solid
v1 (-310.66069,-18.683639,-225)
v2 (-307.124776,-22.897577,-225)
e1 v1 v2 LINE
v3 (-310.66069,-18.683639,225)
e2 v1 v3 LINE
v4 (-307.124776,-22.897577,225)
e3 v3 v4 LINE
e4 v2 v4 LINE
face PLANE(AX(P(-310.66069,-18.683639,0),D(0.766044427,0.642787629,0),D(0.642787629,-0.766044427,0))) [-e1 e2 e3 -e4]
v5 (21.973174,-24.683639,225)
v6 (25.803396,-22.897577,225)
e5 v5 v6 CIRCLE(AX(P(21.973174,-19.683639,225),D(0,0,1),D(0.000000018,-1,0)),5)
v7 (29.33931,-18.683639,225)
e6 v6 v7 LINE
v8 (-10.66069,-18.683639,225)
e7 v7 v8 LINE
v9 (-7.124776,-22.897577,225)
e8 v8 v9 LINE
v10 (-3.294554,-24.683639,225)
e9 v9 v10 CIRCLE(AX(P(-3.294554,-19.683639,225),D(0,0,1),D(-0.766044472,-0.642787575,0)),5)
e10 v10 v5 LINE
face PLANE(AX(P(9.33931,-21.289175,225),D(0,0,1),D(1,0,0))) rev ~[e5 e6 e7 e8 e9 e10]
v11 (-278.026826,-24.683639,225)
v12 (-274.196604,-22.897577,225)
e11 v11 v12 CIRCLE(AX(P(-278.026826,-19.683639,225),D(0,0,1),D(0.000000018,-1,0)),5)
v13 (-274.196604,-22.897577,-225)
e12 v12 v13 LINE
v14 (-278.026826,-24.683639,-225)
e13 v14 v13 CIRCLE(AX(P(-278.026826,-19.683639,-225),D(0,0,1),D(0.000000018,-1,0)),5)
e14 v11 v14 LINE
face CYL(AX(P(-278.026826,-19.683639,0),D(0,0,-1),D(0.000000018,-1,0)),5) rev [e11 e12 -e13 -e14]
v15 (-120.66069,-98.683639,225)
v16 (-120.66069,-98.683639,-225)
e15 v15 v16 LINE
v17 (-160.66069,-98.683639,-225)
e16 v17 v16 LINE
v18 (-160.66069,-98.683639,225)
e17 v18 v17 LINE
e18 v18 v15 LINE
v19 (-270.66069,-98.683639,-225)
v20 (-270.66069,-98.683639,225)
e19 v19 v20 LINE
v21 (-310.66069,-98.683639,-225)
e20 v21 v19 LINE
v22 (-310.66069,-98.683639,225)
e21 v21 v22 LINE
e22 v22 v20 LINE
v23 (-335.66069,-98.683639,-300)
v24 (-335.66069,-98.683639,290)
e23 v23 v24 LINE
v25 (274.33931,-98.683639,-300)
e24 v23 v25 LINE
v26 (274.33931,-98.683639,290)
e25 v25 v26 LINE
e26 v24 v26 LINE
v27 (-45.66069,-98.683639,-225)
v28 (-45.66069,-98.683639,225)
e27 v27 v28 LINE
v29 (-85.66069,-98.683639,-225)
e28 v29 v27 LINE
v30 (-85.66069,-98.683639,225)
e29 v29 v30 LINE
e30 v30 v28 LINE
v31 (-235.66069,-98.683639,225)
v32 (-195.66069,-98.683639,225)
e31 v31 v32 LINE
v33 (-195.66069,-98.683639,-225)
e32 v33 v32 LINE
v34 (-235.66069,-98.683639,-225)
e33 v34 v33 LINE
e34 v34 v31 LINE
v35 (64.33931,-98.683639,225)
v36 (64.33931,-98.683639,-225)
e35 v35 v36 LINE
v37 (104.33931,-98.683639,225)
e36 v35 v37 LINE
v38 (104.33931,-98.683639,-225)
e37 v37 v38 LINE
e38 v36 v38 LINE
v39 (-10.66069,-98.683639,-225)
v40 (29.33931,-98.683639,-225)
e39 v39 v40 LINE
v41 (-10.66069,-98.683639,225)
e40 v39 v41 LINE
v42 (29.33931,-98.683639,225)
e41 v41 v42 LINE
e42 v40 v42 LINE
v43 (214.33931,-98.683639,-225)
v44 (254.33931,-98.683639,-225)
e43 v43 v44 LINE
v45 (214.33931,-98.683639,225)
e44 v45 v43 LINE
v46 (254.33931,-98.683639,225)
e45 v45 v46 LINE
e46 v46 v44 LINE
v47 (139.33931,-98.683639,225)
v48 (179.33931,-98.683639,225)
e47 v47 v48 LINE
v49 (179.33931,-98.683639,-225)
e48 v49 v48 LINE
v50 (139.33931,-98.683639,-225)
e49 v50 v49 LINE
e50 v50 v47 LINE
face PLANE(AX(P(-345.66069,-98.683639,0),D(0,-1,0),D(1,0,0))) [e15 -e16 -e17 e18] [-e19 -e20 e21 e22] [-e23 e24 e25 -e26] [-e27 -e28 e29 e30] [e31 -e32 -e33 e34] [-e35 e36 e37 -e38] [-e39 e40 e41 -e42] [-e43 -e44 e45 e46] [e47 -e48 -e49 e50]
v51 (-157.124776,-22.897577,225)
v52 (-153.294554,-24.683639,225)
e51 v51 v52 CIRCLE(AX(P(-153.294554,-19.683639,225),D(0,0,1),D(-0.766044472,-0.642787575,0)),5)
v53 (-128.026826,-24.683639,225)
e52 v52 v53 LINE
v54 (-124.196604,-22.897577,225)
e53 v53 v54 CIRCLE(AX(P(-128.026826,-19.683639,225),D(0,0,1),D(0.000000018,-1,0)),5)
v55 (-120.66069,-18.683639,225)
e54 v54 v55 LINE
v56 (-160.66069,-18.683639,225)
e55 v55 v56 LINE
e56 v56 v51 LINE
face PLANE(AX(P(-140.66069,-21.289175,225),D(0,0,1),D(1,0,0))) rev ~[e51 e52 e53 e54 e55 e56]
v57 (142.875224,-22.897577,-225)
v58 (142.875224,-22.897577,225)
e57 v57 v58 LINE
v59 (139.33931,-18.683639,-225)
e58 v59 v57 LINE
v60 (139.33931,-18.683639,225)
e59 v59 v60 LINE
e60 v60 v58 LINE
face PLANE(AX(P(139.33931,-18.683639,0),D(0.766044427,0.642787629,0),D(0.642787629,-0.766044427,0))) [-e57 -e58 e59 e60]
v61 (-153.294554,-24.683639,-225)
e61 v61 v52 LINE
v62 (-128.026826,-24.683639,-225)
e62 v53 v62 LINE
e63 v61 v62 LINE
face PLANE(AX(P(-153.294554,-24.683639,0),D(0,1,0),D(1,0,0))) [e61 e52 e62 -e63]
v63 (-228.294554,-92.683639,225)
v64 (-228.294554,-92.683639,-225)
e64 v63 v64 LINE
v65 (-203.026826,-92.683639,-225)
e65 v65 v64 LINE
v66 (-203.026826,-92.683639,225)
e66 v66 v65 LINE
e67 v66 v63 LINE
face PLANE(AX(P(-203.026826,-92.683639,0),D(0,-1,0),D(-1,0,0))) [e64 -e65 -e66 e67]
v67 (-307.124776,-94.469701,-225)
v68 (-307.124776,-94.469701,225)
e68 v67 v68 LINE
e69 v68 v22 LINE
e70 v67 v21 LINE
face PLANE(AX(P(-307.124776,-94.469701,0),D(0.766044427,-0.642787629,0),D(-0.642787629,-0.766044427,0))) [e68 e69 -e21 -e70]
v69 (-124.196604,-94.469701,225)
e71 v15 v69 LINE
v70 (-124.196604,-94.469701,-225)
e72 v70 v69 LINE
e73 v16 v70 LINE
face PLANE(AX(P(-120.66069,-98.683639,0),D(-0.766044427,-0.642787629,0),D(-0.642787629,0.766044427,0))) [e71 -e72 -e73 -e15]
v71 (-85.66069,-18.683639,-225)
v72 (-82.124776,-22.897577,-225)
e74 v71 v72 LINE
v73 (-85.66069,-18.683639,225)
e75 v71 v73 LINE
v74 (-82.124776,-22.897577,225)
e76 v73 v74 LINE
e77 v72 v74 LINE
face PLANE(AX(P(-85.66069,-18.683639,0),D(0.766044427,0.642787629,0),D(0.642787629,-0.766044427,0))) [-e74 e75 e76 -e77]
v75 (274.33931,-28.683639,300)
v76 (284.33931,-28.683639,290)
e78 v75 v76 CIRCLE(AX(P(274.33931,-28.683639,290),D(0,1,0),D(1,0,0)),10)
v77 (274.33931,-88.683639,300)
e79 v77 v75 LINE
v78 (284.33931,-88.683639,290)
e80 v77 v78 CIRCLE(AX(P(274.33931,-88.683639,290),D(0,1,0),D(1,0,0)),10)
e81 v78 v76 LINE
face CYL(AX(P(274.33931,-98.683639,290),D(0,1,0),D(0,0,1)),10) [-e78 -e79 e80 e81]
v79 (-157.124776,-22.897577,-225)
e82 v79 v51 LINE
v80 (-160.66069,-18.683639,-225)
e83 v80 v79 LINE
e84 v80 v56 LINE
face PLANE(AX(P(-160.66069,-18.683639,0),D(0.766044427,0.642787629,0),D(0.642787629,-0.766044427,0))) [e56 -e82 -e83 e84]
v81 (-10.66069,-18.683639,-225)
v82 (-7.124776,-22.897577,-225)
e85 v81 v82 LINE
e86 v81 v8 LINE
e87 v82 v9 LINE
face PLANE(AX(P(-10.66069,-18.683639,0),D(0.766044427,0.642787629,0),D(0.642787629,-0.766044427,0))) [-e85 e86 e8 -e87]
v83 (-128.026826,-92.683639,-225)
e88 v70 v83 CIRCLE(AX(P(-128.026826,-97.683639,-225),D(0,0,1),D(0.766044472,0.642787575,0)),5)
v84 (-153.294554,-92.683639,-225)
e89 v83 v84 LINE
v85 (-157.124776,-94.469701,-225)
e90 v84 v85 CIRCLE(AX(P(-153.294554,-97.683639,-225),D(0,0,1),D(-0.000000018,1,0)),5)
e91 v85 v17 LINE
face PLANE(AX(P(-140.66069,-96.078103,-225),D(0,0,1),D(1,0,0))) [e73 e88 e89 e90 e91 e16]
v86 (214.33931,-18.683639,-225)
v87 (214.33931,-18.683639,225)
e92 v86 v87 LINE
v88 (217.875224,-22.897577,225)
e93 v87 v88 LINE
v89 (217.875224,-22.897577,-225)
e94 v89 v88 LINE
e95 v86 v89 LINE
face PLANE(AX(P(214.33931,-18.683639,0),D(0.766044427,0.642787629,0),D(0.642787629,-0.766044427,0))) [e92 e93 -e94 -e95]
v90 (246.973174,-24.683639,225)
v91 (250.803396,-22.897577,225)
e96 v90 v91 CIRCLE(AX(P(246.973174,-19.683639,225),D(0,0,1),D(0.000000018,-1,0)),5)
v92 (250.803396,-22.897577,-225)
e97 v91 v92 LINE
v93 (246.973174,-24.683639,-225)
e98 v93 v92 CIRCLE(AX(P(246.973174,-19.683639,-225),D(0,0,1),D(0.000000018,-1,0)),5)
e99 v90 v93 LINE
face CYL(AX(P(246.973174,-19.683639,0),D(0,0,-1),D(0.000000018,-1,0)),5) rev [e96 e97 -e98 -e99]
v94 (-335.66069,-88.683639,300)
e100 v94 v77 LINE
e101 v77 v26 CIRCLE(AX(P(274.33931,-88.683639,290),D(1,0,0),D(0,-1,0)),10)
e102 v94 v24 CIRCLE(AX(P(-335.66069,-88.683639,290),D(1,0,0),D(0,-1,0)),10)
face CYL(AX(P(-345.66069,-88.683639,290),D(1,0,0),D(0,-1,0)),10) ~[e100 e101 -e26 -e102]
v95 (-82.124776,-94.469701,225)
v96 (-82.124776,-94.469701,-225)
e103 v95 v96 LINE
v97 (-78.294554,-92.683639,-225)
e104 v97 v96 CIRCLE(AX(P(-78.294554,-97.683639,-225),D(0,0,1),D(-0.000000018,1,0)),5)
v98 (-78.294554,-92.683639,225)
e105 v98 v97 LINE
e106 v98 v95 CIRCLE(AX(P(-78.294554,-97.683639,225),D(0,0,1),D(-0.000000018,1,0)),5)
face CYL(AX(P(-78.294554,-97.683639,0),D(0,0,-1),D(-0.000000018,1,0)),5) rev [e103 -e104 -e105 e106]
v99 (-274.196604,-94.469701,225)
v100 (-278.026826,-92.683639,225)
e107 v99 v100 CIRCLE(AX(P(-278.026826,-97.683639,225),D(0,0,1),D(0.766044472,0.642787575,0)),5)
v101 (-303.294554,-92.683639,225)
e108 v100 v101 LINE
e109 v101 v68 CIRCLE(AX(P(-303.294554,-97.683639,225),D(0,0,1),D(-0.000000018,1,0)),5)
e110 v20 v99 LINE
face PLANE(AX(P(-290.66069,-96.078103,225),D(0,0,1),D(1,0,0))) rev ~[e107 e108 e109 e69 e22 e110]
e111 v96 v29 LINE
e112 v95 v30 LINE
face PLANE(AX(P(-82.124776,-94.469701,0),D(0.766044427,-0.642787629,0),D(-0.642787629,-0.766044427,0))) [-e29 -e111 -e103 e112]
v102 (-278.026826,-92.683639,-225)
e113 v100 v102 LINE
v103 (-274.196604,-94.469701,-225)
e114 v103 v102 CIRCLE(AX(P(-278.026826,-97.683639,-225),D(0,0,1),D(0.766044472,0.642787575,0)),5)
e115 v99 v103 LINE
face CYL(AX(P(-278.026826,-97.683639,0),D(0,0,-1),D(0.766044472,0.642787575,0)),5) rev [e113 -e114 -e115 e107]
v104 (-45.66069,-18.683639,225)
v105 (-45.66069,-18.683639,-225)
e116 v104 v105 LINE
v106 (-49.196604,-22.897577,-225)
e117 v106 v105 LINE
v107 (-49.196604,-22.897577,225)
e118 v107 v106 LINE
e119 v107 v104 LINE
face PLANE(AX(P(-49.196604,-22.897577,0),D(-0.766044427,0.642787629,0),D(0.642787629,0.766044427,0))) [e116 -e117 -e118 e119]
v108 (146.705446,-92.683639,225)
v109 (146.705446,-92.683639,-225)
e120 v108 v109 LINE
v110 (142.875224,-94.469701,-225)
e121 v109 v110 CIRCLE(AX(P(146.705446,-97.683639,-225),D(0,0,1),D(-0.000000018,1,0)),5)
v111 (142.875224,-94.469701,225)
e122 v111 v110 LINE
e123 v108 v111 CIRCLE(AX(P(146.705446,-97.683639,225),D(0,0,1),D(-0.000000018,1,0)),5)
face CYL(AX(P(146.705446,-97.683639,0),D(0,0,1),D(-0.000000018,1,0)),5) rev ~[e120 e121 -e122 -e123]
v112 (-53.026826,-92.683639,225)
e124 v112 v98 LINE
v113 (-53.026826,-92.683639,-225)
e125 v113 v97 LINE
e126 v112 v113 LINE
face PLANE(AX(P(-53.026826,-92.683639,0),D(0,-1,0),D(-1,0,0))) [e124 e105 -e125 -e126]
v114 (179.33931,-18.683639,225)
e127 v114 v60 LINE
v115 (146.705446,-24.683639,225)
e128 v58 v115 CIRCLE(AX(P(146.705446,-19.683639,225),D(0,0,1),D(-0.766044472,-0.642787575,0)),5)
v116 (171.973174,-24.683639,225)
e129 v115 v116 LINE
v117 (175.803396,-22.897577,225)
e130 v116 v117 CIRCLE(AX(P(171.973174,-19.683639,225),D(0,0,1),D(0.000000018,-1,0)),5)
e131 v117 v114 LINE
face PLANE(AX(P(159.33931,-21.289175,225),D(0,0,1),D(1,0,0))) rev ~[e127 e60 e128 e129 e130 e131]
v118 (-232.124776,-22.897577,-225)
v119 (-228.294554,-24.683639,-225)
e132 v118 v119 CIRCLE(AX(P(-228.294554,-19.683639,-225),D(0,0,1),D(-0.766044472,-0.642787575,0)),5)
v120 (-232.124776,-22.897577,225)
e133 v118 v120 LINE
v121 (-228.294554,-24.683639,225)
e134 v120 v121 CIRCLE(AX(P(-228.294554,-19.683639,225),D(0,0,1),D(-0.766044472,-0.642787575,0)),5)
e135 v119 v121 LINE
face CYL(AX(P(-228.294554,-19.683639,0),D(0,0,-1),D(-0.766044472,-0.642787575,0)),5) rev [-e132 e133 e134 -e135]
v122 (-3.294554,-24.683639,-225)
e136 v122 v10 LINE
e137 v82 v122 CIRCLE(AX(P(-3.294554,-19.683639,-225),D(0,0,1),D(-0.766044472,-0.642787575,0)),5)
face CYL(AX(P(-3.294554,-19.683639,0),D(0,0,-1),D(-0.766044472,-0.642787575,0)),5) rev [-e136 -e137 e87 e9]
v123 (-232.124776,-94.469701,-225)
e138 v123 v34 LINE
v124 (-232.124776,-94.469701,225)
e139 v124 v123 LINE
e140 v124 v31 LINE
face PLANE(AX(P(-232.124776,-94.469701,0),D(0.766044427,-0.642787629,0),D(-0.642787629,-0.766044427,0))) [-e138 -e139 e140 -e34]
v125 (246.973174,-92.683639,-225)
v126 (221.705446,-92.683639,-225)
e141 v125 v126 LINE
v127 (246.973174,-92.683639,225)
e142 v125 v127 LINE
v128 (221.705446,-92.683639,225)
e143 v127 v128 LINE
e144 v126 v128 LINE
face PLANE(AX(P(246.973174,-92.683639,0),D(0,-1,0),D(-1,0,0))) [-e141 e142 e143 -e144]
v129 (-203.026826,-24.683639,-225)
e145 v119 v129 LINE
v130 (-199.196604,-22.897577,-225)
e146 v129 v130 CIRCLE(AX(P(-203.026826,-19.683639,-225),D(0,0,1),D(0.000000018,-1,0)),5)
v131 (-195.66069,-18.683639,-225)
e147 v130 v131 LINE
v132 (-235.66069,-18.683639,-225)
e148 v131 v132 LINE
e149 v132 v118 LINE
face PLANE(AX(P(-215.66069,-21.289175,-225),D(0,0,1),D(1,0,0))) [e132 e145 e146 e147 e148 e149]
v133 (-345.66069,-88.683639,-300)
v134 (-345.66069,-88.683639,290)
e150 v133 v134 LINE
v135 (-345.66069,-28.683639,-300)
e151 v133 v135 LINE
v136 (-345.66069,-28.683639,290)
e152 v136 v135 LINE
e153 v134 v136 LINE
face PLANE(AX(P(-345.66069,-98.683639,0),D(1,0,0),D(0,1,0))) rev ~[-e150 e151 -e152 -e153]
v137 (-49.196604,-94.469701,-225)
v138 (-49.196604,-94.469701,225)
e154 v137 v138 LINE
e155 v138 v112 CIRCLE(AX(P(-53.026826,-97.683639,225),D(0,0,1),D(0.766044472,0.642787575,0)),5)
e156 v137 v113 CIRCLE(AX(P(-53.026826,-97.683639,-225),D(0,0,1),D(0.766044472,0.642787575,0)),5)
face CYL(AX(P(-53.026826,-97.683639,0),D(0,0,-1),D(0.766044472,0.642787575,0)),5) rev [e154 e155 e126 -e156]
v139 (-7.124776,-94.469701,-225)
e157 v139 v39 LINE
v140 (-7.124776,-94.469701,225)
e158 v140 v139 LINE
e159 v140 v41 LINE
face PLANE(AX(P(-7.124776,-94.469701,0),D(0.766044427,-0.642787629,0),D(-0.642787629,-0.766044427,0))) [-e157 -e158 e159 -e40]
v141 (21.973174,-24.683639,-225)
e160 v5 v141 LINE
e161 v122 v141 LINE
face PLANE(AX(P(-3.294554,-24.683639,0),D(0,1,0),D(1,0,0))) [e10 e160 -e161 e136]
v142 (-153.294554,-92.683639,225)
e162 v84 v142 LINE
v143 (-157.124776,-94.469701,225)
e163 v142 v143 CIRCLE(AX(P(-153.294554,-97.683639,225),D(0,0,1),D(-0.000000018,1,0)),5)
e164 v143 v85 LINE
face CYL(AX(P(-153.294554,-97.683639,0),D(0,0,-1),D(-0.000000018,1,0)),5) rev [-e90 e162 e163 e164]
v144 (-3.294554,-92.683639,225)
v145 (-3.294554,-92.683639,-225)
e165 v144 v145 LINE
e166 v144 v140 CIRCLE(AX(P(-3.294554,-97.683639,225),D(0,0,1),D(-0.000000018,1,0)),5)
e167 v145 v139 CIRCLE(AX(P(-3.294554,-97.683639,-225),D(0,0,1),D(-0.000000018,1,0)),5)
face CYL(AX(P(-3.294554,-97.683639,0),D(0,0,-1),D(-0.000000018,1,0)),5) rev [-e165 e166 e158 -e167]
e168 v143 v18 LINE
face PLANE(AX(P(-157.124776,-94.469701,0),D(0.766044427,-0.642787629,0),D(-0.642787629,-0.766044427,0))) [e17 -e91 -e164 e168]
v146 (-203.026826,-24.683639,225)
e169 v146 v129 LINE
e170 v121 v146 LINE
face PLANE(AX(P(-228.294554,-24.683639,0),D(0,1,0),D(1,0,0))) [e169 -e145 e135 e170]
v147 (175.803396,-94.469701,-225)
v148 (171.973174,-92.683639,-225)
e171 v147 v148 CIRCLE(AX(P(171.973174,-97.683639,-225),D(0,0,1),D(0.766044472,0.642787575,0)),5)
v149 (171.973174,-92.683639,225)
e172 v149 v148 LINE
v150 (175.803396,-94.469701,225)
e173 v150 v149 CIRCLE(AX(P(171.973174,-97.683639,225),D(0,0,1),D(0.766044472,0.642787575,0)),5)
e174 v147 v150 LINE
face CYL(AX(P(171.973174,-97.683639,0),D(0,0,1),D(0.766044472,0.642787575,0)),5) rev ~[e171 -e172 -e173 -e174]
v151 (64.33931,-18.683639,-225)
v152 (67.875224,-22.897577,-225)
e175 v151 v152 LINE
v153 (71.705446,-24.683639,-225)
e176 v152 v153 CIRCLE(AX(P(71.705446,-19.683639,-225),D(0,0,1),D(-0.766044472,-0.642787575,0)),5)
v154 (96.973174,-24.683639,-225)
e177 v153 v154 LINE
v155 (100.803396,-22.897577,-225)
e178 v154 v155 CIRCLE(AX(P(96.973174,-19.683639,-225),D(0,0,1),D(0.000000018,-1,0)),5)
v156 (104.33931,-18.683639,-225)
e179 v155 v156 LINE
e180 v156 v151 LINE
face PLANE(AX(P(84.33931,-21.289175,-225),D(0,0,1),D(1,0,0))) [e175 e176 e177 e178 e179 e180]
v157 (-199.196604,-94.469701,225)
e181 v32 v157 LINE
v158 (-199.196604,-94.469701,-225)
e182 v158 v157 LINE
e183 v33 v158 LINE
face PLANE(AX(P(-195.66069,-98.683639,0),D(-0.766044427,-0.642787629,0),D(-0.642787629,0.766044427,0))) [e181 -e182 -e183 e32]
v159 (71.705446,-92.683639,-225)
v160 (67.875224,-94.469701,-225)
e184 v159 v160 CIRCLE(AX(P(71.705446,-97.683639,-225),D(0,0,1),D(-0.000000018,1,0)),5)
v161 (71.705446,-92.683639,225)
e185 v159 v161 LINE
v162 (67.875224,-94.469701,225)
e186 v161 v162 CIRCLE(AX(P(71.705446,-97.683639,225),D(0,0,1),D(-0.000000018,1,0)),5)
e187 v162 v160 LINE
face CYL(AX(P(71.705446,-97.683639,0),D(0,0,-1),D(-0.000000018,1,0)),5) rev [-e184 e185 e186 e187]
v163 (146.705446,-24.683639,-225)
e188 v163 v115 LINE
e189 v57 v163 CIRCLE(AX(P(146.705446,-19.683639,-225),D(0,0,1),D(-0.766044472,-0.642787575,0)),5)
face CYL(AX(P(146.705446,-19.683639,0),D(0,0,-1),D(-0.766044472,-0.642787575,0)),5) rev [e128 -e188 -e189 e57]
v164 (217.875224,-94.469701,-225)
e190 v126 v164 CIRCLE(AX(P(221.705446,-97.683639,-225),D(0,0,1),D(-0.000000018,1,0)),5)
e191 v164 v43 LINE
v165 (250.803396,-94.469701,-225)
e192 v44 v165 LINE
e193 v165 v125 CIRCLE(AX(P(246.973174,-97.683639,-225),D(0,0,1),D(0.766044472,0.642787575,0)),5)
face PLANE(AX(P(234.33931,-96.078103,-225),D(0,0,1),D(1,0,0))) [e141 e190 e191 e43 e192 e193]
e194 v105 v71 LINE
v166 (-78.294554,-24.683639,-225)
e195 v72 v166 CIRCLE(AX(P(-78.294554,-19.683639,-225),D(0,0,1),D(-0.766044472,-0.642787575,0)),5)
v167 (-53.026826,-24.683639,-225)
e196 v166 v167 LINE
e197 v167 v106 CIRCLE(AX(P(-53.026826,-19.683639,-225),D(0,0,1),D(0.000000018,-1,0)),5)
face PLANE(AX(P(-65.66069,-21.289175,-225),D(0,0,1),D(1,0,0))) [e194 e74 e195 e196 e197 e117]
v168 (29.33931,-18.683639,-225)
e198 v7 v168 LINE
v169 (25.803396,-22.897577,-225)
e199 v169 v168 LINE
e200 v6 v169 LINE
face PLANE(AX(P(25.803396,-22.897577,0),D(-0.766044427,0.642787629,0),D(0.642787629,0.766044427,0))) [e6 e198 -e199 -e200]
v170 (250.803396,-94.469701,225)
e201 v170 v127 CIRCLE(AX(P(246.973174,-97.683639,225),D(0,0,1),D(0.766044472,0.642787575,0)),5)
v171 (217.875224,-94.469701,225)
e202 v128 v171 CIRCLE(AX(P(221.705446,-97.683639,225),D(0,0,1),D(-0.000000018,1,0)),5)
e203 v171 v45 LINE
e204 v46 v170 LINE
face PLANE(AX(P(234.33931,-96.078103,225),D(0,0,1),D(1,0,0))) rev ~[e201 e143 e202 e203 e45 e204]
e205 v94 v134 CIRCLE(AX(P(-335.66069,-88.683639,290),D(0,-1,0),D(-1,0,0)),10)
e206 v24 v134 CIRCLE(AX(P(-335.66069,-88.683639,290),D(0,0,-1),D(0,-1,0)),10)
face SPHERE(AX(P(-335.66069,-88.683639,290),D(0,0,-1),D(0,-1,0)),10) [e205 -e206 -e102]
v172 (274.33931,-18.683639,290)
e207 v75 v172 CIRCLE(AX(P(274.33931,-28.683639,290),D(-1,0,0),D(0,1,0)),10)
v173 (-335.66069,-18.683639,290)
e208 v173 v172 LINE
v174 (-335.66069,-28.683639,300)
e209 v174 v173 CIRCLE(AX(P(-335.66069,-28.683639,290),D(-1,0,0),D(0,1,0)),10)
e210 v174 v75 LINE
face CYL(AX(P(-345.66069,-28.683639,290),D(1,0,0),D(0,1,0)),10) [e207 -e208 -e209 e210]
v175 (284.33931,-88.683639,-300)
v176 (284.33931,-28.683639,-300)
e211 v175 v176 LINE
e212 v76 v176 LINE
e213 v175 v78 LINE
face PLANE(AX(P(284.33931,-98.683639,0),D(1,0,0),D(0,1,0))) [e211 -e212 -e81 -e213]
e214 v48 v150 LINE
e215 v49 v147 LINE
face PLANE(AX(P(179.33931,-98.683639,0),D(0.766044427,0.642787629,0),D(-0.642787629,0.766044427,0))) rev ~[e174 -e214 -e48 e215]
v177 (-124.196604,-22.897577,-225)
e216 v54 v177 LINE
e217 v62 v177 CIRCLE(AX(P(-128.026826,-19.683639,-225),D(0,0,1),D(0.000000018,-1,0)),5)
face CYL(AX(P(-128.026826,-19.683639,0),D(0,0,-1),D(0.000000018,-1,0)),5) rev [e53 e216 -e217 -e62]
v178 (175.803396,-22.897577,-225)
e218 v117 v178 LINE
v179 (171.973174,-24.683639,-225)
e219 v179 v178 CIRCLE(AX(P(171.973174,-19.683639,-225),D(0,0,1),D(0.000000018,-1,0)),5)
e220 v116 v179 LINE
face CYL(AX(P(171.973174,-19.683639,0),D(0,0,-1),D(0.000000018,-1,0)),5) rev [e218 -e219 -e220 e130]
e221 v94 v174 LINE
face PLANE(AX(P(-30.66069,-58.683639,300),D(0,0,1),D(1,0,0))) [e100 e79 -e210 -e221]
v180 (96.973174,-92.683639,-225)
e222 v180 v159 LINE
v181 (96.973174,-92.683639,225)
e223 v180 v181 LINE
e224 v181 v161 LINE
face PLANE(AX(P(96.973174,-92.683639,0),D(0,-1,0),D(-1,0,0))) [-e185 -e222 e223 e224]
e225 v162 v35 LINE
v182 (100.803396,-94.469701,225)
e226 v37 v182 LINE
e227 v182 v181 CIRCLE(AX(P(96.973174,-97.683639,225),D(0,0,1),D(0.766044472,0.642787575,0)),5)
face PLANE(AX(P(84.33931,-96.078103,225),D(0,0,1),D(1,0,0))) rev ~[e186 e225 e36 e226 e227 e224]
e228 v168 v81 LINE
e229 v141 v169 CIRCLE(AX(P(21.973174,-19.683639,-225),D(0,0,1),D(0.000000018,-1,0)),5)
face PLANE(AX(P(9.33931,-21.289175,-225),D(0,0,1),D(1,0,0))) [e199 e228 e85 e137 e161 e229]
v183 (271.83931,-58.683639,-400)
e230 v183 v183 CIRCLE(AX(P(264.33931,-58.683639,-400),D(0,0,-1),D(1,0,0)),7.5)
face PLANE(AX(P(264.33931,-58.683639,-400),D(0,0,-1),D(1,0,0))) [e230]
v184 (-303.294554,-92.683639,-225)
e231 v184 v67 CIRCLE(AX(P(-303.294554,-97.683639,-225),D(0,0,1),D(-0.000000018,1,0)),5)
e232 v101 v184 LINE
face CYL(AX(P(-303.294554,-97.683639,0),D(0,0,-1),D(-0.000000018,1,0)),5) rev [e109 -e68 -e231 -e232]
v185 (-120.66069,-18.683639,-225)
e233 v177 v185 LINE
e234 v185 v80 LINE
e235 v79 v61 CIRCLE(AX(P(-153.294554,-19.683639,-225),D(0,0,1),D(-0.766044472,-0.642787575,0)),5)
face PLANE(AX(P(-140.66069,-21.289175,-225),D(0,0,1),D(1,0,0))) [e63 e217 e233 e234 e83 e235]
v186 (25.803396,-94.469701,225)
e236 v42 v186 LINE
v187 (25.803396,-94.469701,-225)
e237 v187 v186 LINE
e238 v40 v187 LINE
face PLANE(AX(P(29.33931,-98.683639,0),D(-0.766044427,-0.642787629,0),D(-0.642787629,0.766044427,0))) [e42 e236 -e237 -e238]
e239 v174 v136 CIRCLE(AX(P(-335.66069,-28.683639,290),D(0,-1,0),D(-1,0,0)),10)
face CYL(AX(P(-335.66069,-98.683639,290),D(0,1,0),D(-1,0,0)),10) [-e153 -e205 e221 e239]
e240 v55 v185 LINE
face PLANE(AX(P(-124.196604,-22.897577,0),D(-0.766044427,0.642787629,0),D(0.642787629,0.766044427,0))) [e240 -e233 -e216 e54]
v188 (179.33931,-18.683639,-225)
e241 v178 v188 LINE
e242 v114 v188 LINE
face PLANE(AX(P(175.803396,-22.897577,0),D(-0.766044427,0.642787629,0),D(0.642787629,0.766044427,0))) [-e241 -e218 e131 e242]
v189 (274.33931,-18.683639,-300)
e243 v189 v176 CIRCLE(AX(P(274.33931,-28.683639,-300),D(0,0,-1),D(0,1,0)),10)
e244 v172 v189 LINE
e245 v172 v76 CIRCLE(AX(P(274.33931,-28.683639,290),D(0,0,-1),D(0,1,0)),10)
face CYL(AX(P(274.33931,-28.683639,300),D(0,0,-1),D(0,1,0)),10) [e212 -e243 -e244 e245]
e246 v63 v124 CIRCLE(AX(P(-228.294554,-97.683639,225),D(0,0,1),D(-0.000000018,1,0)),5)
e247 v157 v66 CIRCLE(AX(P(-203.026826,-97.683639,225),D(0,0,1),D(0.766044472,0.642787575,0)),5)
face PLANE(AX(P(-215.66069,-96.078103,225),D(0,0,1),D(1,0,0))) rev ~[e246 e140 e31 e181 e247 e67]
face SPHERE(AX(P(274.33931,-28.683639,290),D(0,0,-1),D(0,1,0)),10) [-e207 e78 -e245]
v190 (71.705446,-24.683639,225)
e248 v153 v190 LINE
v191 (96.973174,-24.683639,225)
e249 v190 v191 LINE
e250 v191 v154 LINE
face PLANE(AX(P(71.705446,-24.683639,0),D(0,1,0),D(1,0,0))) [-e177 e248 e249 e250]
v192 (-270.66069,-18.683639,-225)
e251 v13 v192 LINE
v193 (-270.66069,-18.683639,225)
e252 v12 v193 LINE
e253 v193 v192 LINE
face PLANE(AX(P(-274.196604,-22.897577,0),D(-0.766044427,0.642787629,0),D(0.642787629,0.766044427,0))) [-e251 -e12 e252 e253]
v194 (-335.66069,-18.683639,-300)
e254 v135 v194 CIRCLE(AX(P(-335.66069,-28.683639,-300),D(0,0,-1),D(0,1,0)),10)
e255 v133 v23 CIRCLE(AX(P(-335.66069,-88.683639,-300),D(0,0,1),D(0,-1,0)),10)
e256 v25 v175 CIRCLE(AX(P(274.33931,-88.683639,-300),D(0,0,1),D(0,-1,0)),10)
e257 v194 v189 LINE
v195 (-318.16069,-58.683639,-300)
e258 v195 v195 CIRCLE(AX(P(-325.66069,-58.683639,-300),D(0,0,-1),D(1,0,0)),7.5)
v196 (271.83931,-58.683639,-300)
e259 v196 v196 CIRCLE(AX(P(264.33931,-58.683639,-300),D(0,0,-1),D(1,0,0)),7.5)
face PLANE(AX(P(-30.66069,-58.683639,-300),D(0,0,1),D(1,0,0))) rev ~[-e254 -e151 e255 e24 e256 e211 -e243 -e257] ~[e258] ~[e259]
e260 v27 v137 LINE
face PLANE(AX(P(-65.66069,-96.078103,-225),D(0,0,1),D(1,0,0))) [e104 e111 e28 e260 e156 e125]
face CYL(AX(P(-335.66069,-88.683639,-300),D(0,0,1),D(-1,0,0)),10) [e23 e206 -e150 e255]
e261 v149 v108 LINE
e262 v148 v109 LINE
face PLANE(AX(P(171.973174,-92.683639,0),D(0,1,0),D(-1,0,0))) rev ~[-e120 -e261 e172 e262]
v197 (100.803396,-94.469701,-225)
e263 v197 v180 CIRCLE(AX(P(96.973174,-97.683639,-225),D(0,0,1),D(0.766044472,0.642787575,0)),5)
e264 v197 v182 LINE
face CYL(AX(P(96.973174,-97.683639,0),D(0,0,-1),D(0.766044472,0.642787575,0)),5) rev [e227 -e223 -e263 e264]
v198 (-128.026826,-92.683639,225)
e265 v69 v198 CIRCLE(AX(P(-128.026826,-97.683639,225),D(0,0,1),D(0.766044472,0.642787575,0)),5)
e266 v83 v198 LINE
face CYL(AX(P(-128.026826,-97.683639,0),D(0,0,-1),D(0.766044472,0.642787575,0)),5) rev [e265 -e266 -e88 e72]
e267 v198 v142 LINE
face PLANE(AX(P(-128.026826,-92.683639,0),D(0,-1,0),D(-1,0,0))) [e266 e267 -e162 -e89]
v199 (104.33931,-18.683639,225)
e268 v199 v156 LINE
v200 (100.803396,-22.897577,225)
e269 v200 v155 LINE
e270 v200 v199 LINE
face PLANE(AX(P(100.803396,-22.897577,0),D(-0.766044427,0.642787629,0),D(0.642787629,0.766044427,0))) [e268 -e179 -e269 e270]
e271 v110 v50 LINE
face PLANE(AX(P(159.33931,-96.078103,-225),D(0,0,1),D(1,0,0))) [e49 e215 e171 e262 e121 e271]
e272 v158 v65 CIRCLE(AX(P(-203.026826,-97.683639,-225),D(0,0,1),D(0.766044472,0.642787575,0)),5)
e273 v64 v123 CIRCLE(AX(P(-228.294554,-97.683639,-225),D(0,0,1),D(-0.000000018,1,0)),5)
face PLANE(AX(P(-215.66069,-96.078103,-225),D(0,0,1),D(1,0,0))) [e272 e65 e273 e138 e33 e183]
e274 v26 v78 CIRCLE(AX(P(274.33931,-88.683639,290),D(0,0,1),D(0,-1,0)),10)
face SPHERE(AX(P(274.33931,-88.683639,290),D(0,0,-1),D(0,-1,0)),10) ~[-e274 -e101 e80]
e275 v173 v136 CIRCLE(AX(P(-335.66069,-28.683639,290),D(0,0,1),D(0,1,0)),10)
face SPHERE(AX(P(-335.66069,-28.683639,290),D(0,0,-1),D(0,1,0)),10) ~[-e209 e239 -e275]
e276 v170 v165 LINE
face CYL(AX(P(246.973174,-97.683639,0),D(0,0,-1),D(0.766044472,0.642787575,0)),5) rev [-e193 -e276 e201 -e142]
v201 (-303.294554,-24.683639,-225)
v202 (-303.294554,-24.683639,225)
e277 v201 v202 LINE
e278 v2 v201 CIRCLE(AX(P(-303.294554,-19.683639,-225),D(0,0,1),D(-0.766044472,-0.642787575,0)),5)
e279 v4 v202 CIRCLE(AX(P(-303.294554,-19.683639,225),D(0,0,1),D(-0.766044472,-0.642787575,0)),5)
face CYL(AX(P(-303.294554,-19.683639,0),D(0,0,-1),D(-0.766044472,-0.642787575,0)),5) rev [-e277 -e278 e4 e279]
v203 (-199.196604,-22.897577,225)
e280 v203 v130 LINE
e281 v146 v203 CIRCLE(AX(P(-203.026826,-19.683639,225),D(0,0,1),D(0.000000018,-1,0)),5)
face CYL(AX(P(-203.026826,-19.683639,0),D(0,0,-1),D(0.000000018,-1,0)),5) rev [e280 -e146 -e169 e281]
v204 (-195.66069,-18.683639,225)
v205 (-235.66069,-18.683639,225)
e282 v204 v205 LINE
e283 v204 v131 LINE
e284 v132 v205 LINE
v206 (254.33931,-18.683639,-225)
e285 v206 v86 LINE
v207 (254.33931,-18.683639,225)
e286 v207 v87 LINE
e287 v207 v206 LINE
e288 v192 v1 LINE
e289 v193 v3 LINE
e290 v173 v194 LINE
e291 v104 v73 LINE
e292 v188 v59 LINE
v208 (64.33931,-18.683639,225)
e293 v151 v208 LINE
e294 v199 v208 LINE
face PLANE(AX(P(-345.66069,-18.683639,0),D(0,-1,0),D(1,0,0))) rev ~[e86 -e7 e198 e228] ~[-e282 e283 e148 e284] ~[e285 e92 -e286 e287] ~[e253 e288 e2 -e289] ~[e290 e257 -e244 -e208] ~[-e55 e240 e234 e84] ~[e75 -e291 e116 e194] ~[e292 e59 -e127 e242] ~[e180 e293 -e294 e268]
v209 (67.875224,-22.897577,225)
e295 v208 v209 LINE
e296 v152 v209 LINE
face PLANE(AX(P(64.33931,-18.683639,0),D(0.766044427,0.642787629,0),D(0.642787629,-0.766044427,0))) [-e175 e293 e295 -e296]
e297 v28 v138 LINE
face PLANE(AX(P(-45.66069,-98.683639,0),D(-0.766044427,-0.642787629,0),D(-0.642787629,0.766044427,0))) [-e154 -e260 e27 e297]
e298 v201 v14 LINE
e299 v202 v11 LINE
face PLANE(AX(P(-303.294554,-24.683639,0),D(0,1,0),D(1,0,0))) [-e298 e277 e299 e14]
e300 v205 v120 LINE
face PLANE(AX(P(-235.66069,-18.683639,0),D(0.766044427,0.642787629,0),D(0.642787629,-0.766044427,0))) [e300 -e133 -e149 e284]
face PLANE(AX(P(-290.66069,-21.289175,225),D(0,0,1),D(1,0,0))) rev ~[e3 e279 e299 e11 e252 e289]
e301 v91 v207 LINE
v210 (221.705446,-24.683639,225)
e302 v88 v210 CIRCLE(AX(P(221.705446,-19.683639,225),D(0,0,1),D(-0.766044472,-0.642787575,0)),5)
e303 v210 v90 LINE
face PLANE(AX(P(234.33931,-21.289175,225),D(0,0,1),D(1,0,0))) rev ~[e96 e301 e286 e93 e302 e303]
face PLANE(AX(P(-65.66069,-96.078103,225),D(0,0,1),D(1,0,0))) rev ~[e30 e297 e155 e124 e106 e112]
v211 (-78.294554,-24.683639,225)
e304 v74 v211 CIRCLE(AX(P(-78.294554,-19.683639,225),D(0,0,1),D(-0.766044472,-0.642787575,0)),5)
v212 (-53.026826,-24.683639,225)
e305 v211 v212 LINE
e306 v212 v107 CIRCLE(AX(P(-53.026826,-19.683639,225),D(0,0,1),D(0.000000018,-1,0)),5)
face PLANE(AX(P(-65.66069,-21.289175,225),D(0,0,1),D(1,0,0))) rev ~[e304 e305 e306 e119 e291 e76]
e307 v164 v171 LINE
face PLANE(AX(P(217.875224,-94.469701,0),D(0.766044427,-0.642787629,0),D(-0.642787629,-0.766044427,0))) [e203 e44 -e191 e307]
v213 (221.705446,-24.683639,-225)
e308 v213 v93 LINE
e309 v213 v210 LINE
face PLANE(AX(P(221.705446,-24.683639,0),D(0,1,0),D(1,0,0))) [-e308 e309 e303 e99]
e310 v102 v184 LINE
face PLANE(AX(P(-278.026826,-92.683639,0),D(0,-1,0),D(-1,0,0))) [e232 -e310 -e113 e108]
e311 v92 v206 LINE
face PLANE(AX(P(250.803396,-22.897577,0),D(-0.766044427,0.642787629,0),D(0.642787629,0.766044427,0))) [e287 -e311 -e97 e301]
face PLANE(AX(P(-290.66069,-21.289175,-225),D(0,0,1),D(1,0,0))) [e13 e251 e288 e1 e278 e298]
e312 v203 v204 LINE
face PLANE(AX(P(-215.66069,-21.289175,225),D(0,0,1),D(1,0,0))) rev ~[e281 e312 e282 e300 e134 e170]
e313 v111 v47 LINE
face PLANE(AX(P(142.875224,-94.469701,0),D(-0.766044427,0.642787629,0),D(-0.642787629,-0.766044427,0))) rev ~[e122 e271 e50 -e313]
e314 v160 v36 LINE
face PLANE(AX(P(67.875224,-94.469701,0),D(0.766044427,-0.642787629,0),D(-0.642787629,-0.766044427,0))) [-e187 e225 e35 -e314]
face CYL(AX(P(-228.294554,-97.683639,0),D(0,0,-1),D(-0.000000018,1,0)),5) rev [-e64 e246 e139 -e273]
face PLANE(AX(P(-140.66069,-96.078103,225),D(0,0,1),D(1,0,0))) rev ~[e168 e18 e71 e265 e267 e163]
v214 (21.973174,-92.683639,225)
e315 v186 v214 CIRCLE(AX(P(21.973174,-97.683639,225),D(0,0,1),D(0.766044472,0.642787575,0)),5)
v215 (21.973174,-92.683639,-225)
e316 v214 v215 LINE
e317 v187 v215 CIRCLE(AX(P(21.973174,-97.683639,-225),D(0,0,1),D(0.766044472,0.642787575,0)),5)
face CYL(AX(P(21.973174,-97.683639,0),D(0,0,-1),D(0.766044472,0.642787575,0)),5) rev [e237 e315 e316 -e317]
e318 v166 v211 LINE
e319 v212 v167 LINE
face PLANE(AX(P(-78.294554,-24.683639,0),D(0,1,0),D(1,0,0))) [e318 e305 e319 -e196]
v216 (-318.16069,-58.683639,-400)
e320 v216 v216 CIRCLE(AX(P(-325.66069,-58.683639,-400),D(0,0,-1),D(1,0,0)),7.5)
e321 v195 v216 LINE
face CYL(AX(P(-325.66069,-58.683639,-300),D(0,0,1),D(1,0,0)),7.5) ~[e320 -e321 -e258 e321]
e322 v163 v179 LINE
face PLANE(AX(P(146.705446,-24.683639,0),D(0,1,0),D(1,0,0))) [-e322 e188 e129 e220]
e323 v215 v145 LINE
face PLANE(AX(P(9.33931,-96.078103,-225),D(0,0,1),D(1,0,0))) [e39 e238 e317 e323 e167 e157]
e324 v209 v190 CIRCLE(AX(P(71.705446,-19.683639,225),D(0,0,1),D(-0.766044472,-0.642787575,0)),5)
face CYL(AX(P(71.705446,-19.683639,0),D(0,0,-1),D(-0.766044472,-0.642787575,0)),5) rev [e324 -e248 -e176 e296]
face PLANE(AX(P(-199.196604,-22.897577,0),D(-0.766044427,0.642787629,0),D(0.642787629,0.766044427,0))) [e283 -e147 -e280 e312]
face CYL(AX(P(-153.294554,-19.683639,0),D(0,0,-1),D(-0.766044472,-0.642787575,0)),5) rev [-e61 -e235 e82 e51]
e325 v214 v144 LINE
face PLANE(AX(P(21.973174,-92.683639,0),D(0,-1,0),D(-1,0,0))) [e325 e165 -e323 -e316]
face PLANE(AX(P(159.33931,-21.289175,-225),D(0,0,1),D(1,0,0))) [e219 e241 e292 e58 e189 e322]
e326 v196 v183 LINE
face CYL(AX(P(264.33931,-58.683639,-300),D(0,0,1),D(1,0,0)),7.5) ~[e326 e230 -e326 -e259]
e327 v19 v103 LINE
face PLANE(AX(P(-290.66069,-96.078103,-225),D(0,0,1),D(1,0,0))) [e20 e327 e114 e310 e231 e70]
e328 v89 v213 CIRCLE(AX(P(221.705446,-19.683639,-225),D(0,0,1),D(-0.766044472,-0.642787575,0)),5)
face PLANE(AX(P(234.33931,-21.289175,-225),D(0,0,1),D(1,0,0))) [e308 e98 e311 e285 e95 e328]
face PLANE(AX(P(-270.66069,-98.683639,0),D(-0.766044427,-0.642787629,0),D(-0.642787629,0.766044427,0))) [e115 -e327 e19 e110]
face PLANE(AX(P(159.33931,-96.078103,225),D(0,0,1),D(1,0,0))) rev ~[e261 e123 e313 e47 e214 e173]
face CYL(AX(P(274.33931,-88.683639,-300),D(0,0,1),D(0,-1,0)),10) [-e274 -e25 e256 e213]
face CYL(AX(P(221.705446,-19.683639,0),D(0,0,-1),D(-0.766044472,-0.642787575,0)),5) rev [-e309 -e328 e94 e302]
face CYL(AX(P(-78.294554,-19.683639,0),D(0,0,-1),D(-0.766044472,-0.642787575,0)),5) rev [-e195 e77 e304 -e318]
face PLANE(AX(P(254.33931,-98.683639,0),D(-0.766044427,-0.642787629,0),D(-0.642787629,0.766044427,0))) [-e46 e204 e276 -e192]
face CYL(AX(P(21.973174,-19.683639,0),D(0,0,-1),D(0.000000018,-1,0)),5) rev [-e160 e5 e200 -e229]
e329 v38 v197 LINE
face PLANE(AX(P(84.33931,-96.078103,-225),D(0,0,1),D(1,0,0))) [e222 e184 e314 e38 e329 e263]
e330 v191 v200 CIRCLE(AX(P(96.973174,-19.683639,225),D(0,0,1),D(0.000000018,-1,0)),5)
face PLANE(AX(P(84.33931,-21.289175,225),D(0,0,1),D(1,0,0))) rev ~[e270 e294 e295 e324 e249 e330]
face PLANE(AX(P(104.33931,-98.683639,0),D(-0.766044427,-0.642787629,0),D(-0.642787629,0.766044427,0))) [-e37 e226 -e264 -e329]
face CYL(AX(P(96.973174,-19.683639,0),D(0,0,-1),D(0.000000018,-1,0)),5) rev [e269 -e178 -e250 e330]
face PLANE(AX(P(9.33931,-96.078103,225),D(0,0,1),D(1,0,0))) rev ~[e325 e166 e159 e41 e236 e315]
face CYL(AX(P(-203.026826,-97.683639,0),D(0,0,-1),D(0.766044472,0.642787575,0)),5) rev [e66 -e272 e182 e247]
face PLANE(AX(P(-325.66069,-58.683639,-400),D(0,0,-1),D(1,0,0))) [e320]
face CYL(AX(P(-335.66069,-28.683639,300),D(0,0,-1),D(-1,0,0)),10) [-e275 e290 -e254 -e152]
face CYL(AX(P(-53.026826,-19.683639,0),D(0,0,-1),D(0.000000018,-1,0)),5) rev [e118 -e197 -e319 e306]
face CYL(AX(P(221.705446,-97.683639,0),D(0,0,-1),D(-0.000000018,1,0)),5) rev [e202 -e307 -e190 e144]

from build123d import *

# Parameters (mm, degrees)
F0_W     = 630
F0_H     = 80
F1_DEPTH = 300
F2_R     = 7.5
F3_DEPTH = 100
F5_DEPTH = 225
F6_R     = 10


with BuildPart() as f1:
    # F0 (on Top) → F1 (new body, symmetric)
    with BuildSketch(Plane.XY):
        with Locations((-30.66069, -58.683639)):
            Rectangle(F0_W, F0_H)
    extrude(amount=F1_DEPTH, both=True)

    # F2 (on face) → F3 (join)
    with BuildSketch(Plane(origin=(0, 0, -300), x_dir=(1, 0, 0), z_dir=(0, 0, -1))):
        with Locations((264.33931, 58.683639)):
            Circle(F2_R)
        with Locations((-325.66069, 58.683639)):
            Circle(F2_R)
    extrude(amount=F3_DEPTH)

    # F4 (on Top) → F5 (cut, symmetric)
    with BuildSketch(Plane.XY):
        with BuildLine():
            Line((-270.66069, -18.683639), (-310.66069, -18.683639))
            Line((-310.66069, -18.683639), (-307.124776, -22.897577))
            ThreePointArc((-307.124776, -22.897577), (-305.407645, -24.215178), (-303.294554, -24.683639))
            Line((-303.294554, -24.683639), (-278.026826, -24.683639))
            ThreePointArc((-278.026826, -24.683639), (-275.913735, -24.215178), (-274.196604, -22.897577))
            Line((-274.196604, -22.897577), (-270.66069, -18.683639))
        make_face()
        with BuildLine():
            Line((-195.66069, -18.683639), (-235.66069, -18.683639))
            Line((-235.66069, -18.683639), (-232.124776, -22.897577))
            ThreePointArc((-232.124776, -22.897577), (-230.407645, -24.215178), (-228.294554, -24.683639))
            Line((-228.294554, -24.683639), (-203.026826, -24.683639))
            ThreePointArc((-203.026826, -24.683639), (-200.913735, -24.215178), (-199.196604, -22.897577))
            Line((-199.196604, -22.897577), (-195.66069, -18.683639))
        make_face()
        with BuildLine():
            Line((-120.66069, -18.683639), (-160.66069, -18.683639))
            Line((-160.66069, -18.683639), (-157.124776, -22.897577))
            ThreePointArc((-157.124776, -22.897577), (-155.407645, -24.215178), (-153.294554, -24.683639))
            Line((-153.294554, -24.683639), (-128.026826, -24.683639))
            ThreePointArc((-128.026826, -24.683639), (-125.913735, -24.215178), (-124.196604, -22.897577))
            Line((-124.196604, -22.897577), (-120.66069, -18.683639))
        make_face()
        with BuildLine():
            Line((-45.66069, -18.683639), (-85.66069, -18.683639))
            Line((-85.66069, -18.683639), (-82.124776, -22.897577))
            ThreePointArc((-82.124776, -22.897577), (-80.407645, -24.215178), (-78.294554, -24.683639))
            Line((-78.294554, -24.683639), (-53.026826, -24.683639))
            ThreePointArc((-53.026826, -24.683639), (-50.913735, -24.215178), (-49.196604, -22.897577))
            Line((-49.196604, -22.897577), (-45.66069, -18.683639))
        make_face()
        with BuildLine():
            Line((29.33931, -18.683639), (-10.66069, -18.683639))
            Line((-10.66069, -18.683639), (-7.124776, -22.897577))
            ThreePointArc((-7.124776, -22.897577), (-5.407645, -24.215178), (-3.294554, -24.683639))
            Line((-3.294554, -24.683639), (21.973174, -24.683639))
            ThreePointArc((21.973174, -24.683639), (24.086265, -24.215178), (25.803396, -22.897577))
            Line((25.803396, -22.897577), (29.33931, -18.683639))
        make_face()
        with BuildLine():
            Line((104.33931, -18.683639), (64.33931, -18.683639))
            Line((64.33931, -18.683639), (67.875224, -22.897577))
            ThreePointArc((67.875224, -22.897577), (69.592355, -24.215178), (71.705446, -24.683639))
            Line((71.705446, -24.683639), (96.973174, -24.683639))
            ThreePointArc((96.973174, -24.683639), (99.086265, -24.215178), (100.803396, -22.897577))
            Line((100.803396, -22.897577), (104.33931, -18.683639))
        make_face()
        with BuildLine():
            Line((179.33931, -18.683639), (139.33931, -18.683639))
            Line((139.33931, -18.683639), (142.875224, -22.897577))
            ThreePointArc((142.875224, -22.897577), (144.592355, -24.215178), (146.705446, -24.683639))
            Line((146.705446, -24.683639), (171.973174, -24.683639))
            ThreePointArc((171.973174, -24.683639), (174.086265, -24.215178), (175.803396, -22.897577))
            Line((175.803396, -22.897577), (179.33931, -18.683639))
        make_face()
        with BuildLine():
            Line((254.33931, -18.683639), (214.33931, -18.683639))
            Line((214.33931, -18.683639), (217.875224, -22.897577))
            ThreePointArc((217.875224, -22.897577), (219.592355, -24.215178), (221.705446, -24.683639))
            Line((221.705446, -24.683639), (246.973174, -24.683639))
            ThreePointArc((246.973174, -24.683639), (249.086265, -24.215178), (250.803396, -22.897577))
            Line((250.803396, -22.897577), (254.33931, -18.683639))
        make_face()
        with BuildLine():
            ThreePointArc((-303.294554, -92.683639), (-305.407645, -93.1521), (-307.124776, -94.469701))
            Line((-307.124776, -94.469701), (-310.66069, -98.683639))
            Line((-310.66069, -98.683639), (-270.66069, -98.683639))
            Line((-270.66069, -98.683639), (-274.196604, -94.469701))
            ThreePointArc((-274.196604, -94.469701), (-275.913735, -93.1521), (-278.026826, -92.683639))
            Line((-278.026826, -92.683639), (-303.294554, -92.683639))
        make_face()
        with BuildLine():
            Line((-232.124776, -94.469701), (-235.66069, -98.683639))
            Line((-235.66069, -98.683639), (-195.66069, -98.683639))
            Line((-195.66069, -98.683639), (-199.196604, -94.469701))
            ThreePointArc((-199.196604, -94.469701), (-200.913735, -93.1521), (-203.026826, -92.683639))
            Line((-203.026826, -92.683639), (-228.294554, -92.683639))
            ThreePointArc((-228.294554, -92.683639), (-230.407645, -93.1521), (-232.124776, -94.469701))
        make_face()
        with BuildLine():
            ThreePointArc((250.803396, -94.469701), (249.086265, -93.1521), (246.973174, -92.683639))
            Line((246.973174, -92.683639), (221.705446, -92.683639))
            ThreePointArc((221.705446, -92.683639), (219.592355, -93.1521), (217.875224, -94.469701))
            Line((217.875224, -94.469701), (214.33931, -98.683639))
            Line((214.33931, -98.683639), (254.33931, -98.683639))
            Line((254.33931, -98.683639), (250.803396, -94.469701))
        make_face()
        with BuildLine():
            Line((-82.124776, -94.469701), (-85.66069, -98.683639))
            Line((-85.66069, -98.683639), (-45.66069, -98.683639))
            Line((-45.66069, -98.683639), (-49.196604, -94.469701))
            ThreePointArc((-49.196604, -94.469701), (-50.913735, -93.1521), (-53.026826, -92.683639))
            Line((-53.026826, -92.683639), (-78.294554, -92.683639))
            ThreePointArc((-78.294554, -92.683639), (-80.407645, -93.1521), (-82.124776, -94.469701))
        make_face()
        with BuildLine():
            Line((-120.66069, -98.683639), (-124.196604, -94.469701))
            ThreePointArc((-124.196604, -94.469701), (-125.913735, -93.1521), (-128.026826, -92.683639))
            Line((-128.026826, -92.683639), (-153.294554, -92.683639))
            ThreePointArc((-153.294554, -92.683639), (-155.407645, -93.1521), (-157.124776, -94.469701))
            Line((-157.124776, -94.469701), (-160.66069, -98.683639))
            Line((-160.66069, -98.683639), (-120.66069, -98.683639))
        make_face()
        with BuildLine():
            Line((-7.124776, -94.469701), (-10.66069, -98.683639))
            Line((-10.66069, -98.683639), (29.33931, -98.683639))
            Line((29.33931, -98.683639), (25.803396, -94.469701))
            ThreePointArc((25.803396, -94.469701), (24.086265, -93.1521), (21.973174, -92.683639))
            Line((21.973174, -92.683639), (-3.294554, -92.683639))
            ThreePointArc((-3.294554, -92.683639), (-5.407645, -93.1521), (-7.124776, -94.469701))
        make_face()
        with BuildLine():
            Line((104.33931, -98.683639), (100.803396, -94.469701))
            ThreePointArc((100.803396, -94.469701), (99.086265, -93.1521), (96.973174, -92.683639))
            Line((96.973174, -92.683639), (71.705446, -92.683639))
            ThreePointArc((71.705446, -92.683639), (69.592355, -93.1521), (67.875224, -94.469701))
            Line((67.875224, -94.469701), (64.33931, -98.683639))
            Line((64.33931, -98.683639), (104.33931, -98.683639))
        make_face()
        with BuildLine():
            Line((142.875224, -94.469701), (139.33931, -98.683639))
            Line((139.33931, -98.683639), (179.33931, -98.683639))
            Line((179.33931, -98.683639), (175.803396, -94.469701))
            ThreePointArc((175.803396, -94.469701), (174.086265, -93.1521), (171.973174, -92.683639))
            Line((171.973174, -92.683639), (146.705446, -92.683639))
            ThreePointArc((146.705446, -92.683639), (144.592355, -93.1521), (142.875224, -94.469701))
        make_face()
    extrude(amount=F5_DEPTH, both=True, mode=Mode.SUBTRACT)

    # F6
    f6_edges = [f1.edges().sort_by_distance(p)[0] for p in [
        (-345.66069, -98.683639, 0),
        (-345.66069, -18.683639, 0),
        (284.33931, -98.683639, 0),
        (284.33931, -18.683639, 0),
        (-30.66069, -98.683639, 300),
        (-30.66069, -18.683639, 300),
        (284.33931, -58.683639, 300),
        (-345.66069, -58.683639, 300),
    ]]
    fillet(f6_edges, radius=F6_R)


solid = f1.part
